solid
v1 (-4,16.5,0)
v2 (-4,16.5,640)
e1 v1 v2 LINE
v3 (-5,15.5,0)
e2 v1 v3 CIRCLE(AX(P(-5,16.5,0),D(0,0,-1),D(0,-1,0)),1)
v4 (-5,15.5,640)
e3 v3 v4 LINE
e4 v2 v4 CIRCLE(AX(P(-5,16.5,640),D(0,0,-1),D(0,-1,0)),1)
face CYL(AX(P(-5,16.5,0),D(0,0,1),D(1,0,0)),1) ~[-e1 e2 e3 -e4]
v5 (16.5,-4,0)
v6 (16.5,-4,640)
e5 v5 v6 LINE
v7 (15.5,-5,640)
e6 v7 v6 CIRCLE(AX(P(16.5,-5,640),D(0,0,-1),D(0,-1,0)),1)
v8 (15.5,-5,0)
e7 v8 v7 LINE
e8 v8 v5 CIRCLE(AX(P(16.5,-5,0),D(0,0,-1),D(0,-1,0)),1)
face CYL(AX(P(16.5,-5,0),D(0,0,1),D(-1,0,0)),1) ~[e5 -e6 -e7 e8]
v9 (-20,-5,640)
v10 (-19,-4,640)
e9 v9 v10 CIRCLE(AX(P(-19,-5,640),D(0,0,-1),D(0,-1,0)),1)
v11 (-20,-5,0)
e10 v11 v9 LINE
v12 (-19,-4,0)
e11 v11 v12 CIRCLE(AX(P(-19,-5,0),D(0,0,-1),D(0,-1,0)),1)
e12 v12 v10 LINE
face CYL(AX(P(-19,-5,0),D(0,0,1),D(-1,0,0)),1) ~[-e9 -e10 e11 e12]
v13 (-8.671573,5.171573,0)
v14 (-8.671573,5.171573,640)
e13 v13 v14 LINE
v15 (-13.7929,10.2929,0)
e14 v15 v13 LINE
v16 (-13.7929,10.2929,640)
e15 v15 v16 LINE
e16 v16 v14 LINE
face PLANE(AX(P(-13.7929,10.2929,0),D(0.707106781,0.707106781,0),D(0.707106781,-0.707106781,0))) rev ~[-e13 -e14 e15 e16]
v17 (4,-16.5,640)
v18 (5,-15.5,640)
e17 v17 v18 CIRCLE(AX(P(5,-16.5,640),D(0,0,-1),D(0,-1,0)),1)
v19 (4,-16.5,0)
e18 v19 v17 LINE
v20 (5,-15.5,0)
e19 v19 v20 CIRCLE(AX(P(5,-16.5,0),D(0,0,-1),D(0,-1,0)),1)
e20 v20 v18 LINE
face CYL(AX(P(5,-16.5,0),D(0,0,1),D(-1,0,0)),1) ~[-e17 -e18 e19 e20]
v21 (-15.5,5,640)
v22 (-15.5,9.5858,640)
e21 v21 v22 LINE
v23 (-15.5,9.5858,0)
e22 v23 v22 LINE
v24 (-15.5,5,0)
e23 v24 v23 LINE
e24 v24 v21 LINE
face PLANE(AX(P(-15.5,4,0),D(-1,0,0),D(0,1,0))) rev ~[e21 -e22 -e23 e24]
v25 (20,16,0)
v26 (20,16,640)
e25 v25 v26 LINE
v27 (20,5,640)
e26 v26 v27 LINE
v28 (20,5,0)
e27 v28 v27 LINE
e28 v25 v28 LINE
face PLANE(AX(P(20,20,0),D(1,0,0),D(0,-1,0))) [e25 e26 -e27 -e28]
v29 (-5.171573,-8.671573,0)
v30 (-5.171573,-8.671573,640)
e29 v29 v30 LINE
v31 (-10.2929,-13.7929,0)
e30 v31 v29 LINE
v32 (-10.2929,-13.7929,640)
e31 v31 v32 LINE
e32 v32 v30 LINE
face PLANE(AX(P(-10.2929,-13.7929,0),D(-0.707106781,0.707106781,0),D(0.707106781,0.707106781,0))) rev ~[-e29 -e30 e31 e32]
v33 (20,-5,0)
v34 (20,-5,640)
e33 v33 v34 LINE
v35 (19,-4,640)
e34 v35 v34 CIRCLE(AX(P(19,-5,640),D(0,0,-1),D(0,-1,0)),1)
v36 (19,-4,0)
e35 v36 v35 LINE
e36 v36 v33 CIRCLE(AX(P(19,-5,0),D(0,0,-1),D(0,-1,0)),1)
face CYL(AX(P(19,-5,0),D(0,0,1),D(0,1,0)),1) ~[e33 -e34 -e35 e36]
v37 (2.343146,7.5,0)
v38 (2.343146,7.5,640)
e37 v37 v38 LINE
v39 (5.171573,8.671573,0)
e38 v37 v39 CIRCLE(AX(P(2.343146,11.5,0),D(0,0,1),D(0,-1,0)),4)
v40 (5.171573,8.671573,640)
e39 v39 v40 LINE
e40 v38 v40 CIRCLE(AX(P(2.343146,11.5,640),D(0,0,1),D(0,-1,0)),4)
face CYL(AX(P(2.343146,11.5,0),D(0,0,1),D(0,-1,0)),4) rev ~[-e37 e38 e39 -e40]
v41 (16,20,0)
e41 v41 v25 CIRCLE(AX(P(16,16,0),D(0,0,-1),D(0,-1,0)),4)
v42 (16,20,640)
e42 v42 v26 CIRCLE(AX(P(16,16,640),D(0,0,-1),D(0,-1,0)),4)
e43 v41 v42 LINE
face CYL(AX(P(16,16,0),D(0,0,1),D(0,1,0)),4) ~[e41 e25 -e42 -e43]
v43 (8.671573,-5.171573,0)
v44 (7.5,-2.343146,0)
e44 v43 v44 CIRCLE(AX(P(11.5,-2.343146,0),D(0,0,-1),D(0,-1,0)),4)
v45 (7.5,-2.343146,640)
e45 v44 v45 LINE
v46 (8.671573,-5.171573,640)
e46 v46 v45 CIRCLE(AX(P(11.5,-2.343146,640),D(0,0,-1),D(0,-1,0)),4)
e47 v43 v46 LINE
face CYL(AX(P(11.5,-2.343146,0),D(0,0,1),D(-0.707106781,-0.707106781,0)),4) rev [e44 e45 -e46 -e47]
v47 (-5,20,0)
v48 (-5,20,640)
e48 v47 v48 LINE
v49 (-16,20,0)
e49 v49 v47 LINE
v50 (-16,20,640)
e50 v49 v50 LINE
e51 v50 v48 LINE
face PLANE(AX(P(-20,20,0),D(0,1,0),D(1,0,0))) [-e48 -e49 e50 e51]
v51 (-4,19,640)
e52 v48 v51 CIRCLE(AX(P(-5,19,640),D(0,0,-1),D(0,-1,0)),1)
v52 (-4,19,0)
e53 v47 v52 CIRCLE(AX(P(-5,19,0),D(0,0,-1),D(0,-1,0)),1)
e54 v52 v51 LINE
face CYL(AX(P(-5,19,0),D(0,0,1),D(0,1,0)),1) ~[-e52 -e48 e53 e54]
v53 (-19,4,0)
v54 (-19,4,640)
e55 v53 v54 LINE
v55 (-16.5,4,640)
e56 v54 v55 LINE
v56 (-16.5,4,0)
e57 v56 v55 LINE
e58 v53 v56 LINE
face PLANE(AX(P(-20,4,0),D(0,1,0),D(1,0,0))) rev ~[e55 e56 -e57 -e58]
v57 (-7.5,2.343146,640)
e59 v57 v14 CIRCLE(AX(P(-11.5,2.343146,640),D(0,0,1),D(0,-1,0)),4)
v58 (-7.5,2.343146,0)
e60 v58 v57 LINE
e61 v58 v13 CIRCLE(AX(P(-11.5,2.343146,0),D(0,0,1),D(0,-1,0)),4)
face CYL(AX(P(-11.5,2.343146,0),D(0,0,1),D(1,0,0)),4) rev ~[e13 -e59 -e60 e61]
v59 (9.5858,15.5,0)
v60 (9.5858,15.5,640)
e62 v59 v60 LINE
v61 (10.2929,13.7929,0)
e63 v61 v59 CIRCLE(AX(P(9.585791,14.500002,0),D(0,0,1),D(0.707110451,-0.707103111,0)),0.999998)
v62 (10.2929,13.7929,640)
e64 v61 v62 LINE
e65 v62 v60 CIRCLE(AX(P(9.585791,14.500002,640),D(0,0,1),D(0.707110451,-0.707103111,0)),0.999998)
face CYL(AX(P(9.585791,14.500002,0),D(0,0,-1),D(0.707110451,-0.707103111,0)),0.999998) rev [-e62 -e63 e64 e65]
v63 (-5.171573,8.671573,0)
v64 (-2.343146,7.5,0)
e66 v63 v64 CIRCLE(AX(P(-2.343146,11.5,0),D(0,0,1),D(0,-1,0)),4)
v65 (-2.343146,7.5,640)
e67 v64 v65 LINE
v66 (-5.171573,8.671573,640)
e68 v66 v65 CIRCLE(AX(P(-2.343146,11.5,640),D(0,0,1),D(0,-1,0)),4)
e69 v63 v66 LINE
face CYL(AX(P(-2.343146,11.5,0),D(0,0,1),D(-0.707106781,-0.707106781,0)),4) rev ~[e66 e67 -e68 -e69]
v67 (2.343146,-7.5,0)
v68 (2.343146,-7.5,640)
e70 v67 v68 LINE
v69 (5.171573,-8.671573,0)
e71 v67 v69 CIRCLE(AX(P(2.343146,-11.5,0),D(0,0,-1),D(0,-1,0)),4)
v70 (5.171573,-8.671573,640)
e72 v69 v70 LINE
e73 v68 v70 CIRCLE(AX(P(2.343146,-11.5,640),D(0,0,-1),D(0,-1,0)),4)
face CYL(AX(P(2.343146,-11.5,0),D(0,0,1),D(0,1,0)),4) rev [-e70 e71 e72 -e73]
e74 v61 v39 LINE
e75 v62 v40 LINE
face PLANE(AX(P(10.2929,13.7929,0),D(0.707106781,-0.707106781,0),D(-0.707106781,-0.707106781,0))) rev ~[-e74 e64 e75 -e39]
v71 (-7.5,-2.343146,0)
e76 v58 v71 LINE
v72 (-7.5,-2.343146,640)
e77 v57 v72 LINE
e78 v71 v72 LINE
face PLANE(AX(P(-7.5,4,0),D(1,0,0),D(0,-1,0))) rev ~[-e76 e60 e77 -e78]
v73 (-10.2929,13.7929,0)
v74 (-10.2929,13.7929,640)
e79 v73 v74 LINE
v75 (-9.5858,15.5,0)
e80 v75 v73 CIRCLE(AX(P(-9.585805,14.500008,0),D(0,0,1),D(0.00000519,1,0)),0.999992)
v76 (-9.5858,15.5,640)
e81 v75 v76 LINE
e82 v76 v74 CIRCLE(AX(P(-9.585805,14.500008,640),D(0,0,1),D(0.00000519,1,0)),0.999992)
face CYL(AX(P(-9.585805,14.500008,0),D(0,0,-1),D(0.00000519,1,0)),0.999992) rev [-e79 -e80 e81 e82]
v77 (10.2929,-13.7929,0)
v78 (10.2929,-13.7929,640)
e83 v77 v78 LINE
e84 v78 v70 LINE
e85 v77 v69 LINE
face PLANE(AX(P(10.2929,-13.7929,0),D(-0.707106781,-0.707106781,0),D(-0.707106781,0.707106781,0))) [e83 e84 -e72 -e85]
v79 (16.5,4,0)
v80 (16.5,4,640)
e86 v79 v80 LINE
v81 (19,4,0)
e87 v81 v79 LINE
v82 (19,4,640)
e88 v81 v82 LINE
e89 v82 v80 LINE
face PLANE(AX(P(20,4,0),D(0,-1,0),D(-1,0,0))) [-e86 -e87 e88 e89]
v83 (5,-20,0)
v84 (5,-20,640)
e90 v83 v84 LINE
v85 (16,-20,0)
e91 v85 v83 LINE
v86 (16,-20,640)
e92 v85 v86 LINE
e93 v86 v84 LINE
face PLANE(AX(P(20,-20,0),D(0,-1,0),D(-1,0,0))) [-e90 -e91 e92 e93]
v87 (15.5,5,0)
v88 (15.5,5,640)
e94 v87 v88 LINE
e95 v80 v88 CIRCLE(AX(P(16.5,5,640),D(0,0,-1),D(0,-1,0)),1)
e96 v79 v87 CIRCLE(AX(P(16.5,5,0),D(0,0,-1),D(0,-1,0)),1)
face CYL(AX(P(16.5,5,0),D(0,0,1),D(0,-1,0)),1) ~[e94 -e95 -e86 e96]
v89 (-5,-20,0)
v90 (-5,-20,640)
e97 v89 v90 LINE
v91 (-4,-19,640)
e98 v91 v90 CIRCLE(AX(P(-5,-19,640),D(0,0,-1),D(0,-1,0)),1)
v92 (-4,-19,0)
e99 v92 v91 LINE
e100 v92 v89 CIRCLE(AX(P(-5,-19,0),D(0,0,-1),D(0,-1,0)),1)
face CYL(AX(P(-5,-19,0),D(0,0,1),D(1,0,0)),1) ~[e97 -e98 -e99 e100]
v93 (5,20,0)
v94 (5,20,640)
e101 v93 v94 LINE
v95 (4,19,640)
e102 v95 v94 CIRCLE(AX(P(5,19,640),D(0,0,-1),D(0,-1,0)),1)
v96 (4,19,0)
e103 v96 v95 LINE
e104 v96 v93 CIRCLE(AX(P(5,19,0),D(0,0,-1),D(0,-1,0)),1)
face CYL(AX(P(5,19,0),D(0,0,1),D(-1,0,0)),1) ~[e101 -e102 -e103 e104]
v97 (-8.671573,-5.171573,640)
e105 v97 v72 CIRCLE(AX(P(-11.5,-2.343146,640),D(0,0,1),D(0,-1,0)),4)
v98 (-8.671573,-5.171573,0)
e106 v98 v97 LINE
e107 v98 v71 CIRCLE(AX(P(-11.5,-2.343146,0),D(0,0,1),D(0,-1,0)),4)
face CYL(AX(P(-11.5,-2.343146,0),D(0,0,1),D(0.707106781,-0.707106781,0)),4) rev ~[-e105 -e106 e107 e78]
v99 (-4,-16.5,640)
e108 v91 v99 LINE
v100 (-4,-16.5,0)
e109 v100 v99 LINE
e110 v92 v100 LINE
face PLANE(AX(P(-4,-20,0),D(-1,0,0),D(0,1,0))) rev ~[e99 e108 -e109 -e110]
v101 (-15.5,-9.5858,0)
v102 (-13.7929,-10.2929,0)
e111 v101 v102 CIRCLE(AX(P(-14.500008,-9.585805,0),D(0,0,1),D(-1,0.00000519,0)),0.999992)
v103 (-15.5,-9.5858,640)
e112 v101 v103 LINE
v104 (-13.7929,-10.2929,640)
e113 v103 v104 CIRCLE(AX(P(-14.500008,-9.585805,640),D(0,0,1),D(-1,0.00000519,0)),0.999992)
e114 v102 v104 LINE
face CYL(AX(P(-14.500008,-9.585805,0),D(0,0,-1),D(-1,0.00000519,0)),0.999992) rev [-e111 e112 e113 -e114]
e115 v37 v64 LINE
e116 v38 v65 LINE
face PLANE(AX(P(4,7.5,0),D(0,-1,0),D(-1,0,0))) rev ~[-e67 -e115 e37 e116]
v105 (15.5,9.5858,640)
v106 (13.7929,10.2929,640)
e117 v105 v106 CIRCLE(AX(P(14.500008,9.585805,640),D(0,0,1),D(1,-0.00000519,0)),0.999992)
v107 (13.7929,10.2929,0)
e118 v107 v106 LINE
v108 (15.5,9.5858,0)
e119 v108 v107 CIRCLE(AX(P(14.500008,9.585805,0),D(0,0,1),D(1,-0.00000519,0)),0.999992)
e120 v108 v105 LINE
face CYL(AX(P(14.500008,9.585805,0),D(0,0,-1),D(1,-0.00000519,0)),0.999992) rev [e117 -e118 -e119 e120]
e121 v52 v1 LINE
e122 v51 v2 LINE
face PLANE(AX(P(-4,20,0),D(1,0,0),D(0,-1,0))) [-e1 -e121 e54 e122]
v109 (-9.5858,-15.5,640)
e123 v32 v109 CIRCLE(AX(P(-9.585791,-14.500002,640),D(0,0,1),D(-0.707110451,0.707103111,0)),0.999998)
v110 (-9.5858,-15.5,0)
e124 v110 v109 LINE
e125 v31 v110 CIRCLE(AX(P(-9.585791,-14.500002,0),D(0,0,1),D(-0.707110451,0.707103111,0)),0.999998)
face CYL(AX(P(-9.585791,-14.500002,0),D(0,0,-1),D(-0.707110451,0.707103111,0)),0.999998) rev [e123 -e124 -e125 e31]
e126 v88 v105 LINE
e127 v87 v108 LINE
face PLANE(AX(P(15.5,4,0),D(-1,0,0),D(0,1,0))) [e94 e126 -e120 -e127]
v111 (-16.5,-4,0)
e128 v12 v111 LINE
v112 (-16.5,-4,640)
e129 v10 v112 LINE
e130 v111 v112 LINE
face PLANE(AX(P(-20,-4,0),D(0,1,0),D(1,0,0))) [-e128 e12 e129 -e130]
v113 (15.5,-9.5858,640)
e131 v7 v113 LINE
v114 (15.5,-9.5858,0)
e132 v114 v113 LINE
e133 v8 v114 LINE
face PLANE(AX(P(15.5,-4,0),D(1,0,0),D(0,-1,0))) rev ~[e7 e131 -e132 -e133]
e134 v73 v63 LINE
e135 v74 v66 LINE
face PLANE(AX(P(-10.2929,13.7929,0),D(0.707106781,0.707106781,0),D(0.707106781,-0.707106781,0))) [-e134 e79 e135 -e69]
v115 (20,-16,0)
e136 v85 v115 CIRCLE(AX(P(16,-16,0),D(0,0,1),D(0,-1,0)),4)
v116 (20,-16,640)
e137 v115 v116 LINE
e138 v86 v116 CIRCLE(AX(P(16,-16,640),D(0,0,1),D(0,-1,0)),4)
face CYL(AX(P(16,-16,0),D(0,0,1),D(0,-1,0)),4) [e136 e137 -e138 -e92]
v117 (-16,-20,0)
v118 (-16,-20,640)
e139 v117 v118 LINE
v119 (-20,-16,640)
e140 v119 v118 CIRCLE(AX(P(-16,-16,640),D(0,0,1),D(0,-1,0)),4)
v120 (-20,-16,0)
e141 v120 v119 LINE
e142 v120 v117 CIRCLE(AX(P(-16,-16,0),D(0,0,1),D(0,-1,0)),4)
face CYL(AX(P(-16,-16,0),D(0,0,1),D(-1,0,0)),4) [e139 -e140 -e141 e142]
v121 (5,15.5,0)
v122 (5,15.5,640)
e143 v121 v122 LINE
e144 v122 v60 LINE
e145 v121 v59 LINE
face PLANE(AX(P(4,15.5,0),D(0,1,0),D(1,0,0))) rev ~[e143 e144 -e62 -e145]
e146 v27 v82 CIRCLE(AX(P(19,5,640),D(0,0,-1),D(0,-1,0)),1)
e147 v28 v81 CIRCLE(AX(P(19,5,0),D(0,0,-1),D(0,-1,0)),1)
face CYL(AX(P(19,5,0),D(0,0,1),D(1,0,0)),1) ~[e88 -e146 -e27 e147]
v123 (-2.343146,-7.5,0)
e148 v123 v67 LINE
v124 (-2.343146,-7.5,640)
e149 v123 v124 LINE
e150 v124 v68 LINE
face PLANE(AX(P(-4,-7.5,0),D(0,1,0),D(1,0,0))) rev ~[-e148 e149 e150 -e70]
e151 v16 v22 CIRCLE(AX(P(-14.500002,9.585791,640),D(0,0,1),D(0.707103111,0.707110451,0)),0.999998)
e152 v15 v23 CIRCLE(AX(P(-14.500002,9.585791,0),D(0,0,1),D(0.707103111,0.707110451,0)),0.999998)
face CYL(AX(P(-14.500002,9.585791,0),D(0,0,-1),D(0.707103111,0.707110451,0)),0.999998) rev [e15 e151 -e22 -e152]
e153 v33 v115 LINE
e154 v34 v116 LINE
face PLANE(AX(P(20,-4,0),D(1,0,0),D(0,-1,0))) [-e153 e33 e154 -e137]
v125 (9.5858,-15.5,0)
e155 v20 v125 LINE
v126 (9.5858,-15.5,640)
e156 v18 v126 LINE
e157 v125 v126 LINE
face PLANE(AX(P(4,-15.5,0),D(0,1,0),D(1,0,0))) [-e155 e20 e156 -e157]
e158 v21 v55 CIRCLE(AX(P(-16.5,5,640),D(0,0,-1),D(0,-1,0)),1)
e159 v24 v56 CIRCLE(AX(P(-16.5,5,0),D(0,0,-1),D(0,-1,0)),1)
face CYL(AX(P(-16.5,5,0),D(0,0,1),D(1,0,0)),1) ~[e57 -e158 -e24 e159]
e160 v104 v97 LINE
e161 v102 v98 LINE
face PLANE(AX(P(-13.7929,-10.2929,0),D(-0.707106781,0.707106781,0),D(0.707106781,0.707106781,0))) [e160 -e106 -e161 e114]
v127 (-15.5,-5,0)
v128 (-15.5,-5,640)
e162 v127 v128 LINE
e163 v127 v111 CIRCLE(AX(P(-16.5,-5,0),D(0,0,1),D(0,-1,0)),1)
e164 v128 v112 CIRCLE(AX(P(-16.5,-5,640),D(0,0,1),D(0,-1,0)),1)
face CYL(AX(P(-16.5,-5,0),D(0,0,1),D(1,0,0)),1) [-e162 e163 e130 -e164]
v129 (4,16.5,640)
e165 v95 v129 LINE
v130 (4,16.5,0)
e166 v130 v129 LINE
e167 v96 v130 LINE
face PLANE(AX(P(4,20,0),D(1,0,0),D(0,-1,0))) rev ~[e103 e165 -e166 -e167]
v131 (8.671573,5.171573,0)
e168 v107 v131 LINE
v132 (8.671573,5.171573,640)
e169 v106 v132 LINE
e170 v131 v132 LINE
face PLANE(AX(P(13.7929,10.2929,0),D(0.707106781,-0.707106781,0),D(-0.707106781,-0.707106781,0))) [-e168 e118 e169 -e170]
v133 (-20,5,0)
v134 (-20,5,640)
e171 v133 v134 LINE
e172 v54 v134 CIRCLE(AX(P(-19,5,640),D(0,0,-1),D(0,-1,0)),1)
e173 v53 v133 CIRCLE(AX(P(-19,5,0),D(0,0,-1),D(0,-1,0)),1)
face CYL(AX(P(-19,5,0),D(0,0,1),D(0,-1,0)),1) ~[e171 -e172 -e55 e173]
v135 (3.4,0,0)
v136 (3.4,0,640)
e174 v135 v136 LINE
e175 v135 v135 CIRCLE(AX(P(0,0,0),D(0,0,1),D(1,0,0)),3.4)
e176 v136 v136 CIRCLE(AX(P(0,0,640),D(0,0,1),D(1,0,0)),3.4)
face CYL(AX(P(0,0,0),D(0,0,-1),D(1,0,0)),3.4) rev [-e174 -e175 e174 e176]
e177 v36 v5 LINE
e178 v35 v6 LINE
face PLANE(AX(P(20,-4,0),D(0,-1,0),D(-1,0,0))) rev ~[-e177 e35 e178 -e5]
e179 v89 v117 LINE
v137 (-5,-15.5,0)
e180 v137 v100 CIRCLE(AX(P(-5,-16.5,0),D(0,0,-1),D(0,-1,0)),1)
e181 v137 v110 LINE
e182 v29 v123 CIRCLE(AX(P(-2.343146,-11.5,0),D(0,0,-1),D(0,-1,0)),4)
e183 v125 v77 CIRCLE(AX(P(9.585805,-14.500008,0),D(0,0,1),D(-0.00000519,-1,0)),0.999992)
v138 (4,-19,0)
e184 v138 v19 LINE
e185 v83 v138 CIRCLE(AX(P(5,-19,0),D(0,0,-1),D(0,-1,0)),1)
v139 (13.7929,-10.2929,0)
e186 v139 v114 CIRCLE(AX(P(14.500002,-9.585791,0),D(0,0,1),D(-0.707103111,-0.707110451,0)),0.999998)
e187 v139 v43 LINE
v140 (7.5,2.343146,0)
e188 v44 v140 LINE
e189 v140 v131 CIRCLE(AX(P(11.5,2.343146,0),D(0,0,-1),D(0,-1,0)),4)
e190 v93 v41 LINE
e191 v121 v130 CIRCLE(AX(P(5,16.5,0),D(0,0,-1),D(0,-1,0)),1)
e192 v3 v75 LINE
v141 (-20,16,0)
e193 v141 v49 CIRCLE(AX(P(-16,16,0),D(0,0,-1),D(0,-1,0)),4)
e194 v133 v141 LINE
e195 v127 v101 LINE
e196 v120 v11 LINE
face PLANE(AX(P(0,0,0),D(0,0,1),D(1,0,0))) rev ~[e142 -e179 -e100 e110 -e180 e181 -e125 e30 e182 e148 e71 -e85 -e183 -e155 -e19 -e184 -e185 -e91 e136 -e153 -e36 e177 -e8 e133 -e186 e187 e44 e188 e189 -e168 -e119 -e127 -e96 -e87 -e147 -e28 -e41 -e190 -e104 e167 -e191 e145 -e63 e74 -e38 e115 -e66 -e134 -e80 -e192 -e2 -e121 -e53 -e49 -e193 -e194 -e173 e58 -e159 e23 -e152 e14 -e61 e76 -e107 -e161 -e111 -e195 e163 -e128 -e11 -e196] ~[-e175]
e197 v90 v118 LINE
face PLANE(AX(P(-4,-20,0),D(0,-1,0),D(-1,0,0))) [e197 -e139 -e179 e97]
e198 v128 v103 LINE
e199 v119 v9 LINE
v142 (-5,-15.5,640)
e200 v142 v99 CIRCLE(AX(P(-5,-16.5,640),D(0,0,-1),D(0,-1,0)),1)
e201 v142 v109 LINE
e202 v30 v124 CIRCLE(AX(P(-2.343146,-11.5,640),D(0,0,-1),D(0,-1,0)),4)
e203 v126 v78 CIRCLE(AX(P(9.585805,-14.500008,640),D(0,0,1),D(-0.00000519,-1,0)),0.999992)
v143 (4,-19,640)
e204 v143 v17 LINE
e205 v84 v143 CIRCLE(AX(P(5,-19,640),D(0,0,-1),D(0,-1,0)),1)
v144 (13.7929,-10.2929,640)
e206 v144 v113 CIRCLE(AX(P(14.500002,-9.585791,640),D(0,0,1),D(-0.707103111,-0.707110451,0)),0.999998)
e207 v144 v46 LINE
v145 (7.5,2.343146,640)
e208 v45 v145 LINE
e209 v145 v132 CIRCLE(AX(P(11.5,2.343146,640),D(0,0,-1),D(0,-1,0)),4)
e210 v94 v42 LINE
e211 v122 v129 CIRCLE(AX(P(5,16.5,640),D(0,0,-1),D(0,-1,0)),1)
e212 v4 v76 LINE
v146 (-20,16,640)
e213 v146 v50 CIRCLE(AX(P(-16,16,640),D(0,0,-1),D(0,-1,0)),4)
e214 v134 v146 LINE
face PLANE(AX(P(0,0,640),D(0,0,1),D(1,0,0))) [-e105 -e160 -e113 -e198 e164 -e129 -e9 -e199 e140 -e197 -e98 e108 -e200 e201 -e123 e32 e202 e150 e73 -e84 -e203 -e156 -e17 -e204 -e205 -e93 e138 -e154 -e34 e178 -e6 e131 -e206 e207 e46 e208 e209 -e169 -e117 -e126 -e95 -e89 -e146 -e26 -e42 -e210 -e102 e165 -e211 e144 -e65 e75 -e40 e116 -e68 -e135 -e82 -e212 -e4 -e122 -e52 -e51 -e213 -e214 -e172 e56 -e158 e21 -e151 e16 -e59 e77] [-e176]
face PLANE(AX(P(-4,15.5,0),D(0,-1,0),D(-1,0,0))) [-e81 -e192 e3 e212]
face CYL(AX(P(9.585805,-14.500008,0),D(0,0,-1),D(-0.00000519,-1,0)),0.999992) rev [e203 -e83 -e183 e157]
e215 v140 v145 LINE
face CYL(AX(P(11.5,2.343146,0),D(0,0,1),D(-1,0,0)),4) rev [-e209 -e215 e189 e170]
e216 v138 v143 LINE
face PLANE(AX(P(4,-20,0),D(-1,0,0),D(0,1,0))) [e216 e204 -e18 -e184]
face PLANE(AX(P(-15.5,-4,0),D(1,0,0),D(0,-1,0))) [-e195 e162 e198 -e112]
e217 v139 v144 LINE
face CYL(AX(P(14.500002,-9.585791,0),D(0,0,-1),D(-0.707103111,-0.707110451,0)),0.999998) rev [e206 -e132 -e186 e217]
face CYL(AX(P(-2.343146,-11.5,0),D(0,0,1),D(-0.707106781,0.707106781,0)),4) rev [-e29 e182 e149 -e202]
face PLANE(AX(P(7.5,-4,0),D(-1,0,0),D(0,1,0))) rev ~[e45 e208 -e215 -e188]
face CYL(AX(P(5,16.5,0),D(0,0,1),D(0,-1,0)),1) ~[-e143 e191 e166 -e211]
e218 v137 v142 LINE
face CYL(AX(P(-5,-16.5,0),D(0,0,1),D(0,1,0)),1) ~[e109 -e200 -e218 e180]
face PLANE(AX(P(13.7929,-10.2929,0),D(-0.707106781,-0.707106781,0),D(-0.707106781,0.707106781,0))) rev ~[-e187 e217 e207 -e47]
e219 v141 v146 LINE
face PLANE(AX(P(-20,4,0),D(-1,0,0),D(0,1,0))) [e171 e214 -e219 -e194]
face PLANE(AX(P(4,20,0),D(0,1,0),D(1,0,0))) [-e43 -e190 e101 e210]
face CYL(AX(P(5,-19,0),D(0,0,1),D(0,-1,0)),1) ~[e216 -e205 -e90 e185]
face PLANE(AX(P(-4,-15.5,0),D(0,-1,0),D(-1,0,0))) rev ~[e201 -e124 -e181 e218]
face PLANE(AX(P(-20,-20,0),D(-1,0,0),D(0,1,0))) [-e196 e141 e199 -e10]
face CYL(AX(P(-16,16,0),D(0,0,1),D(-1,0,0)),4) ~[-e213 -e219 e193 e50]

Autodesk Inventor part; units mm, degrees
ref_plane "YZ Plane" through (0, 0, 0) normal (1, 0, 0) x (0, 1, 0)
ref_plane "XZ Plane" through (0, 0, 0) normal (0, 1, 0) x (-1, 0, 0)
ref_plane "XY Plane" through (0, 0, 0) normal (0, 0, 1) x (1, 0, 0)
sketch "T-Slot 4040 Base" plane through (0, 0, 0) normal (0, 0, 1) x (1, 0, 0)
  line L0 (-28, 0) -> (28, 0) construction
  line L1 (0, -28) -> (0, 28) construction
  circle A0 centre (0, 0) radius 3.4
  line L2 (-7.5, -7.5) -> (7.5, -7.5)
  line L3 (7.5, -7.5) -> (7.5, 7.5)
  line L4 (7.5, 7.5) -> (-7.5, 7.5)
  line L5 (-7.5, 7.5) -> (-7.5, -7.5)
  line L6 (-7.5, -7.5) -> (7.5, 7.5) construction
  line L7 (7.5, -7.5) -> (-7.5, 7.5) construction
  line L8 (20, 4) -> (15.5, 4)
  line L9 (15.5, 4) -> (15.5, 12)
  line L10 (15.5, 12) -> (7.5, 4)
  line L11 (4, 20) -> (4, 15.5)
  line L12 (4, 15.5) -> (12, 15.5)
  line L13 (12, 15.5) -> (4, 7.5)
  line L14 (7.5, -7.5) -> (-7.5, -7.5)
  arc A1 (15.5, 9.5858) -> (13.7929, 10.2929) centre (14.5, 9.5858) ccw
  arc A2 (10.2929, 13.7929) -> (9.5858, 15.5) centre (9.5858, 14.5) ccw
  line L15 (-20, 20) -> (20, 20)
  line L16 (20, 20) -> (20, -20)
  line L17 (20, -20) -> (-20, -20)
  line L18 (-20, -20) -> (-20, 20)
  line L19 (-20, 20) -> (20, -20) construction
  line L20 (20, 20) -> (-20, -20) construction
  line L21 (-4, 15.5) -> (-12, 15.5)
  arc A3 (-9.5858, 15.5) -> (-10.2929, 13.7929) centre (-9.5858, 14.5) ccw
  line L22 (-12, 15.5) -> (-4, 7.5)
  line L23 (-15.5, 12) -> (-7.5, 4)
  line L24 (-20, 4) -> (-15.5, 4)
  arc A4 (-13.7929, 10.2929) -> (-15.5, 9.5858) centre (-14.5, 9.5858) ccw
  line L25 (-15.5, 4) -> (-15.5, 12)
  line L26 (-4, 20) -> (-4, 15.5)
  line L27 (-15.5, -4) -> (-15.5, -12)
  arc A5 (-15.5, -9.5858) -> (-13.7929, -10.2929) centre (-14.5, -9.5858) ccw
  line L28 (-15.5, -12) -> (-7.5, -4)
  line L29 (-12, -15.5) -> (-4, -7.5)
  line L30 (-4, -20) -> (-4, -15.5)
  arc A6 (-10.2929, -13.7929) -> (-9.5858, -15.5) centre (-9.5858, -14.5) ccw
  line L31 (-4, -15.5) -> (-12, -15.5)
  line L32 (-20, -4) -> (-15.5, -4)
  line L33 (4, -15.5) -> (12, -15.5)
  arc A7 (9.5858, -15.5) -> (10.2929, -13.7929) centre (9.5858, -14.5) ccw
  line L34 (12, -15.5) -> (4, -7.5)
  line L35 (15.5, -12) -> (7.5, -4)
  line L36 (20, -4) -> (15.5, -4)
  arc A8 (13.7929, -10.2929) -> (15.5, -9.5858) centre (14.5, -9.5858) ccw
  line L37 (15.5, -4) -> (15.5, -12)
  line L38 (4, -20) -> (4, -15.5)
  point P0 (4.9274, 7.75)
  point P1 (9.5858, 15.5)
  point P2 (-20, 20)
  point P3 (-7.5, -7.5)
  point P4 (-20, -20)
  point P5 (7.5, -7.5)
  point P6 (20, -20)
  point P7 (-9.5858, -15.5)
  point P8 (-4, -7.5)
  point P9 (15.5, -9.5858)
  point P10 (7.5, -4)
  point P11 (-15.5, 9.5858)
  point P12 (-4, 7.5)
  dimension "d35" = 6.8
  dimension "d37" = 12
  dimension "d38" = 1
  dimension "d43" = 40
  dimension "d44" = 40
  dimension "d45" = 4.5
  dimension "d46" = 4
  dimension "d53" = 360
extrude "Extrusion1" add sketch "T-Slot 4040 Base" along normal blind 640 contours L5 L4 L3 L2 | L2 L29 L31 L30 L17 L18 L32 L27 L28 L5 | L2 L3 L35 L37 L36 L16 L17 L38 L33 L34 | A6 L31 L29 | L23 L25 L24 L18 L15 L26 L21 L22 L4 L5 | L28 L27 A5 | L34 L33 A7 | A4 L25 L23 | L3 L4 L13 L12 L11 L15 L16 L8 L9 L10 | A8 L37 L35 | L22 L21 A3 | L10 L9 A1 | A2 L12 L13
fillet "Rundung1" radius 1 16 edges at (4, 15.5, 320) (15.5, 4, 320) (20, 4, 320) (4, 20, 320) (-20, 4, 320) (-15.5, 4, 320) (-4, 15.5, 320) (-4, 20, 320) (-4, -15.5, 320) (-4, -20, 320) (4, -15.5, 320) (4, -20, 320) (15.5, -4, 320) (20, -4, 320) (-20, -4, 320) (-15.5, -4, 320)
fillet "Rundung2" radius 4 12 edges at (4, 7.5, 320) (7.5, 4, 320) (-20, 20, 320) (-20, -20, 320) (20, 20, 320) (20, -20, 320) (7.5, -4, 320) (-7.5, -4, 320) (-7.5, 4, 320) (4, -7.5, 320) (-4, -7.5, 320) (-4, 7.5, 320)
properties part number "T-SLOT 4040 B-Type 640mm"
